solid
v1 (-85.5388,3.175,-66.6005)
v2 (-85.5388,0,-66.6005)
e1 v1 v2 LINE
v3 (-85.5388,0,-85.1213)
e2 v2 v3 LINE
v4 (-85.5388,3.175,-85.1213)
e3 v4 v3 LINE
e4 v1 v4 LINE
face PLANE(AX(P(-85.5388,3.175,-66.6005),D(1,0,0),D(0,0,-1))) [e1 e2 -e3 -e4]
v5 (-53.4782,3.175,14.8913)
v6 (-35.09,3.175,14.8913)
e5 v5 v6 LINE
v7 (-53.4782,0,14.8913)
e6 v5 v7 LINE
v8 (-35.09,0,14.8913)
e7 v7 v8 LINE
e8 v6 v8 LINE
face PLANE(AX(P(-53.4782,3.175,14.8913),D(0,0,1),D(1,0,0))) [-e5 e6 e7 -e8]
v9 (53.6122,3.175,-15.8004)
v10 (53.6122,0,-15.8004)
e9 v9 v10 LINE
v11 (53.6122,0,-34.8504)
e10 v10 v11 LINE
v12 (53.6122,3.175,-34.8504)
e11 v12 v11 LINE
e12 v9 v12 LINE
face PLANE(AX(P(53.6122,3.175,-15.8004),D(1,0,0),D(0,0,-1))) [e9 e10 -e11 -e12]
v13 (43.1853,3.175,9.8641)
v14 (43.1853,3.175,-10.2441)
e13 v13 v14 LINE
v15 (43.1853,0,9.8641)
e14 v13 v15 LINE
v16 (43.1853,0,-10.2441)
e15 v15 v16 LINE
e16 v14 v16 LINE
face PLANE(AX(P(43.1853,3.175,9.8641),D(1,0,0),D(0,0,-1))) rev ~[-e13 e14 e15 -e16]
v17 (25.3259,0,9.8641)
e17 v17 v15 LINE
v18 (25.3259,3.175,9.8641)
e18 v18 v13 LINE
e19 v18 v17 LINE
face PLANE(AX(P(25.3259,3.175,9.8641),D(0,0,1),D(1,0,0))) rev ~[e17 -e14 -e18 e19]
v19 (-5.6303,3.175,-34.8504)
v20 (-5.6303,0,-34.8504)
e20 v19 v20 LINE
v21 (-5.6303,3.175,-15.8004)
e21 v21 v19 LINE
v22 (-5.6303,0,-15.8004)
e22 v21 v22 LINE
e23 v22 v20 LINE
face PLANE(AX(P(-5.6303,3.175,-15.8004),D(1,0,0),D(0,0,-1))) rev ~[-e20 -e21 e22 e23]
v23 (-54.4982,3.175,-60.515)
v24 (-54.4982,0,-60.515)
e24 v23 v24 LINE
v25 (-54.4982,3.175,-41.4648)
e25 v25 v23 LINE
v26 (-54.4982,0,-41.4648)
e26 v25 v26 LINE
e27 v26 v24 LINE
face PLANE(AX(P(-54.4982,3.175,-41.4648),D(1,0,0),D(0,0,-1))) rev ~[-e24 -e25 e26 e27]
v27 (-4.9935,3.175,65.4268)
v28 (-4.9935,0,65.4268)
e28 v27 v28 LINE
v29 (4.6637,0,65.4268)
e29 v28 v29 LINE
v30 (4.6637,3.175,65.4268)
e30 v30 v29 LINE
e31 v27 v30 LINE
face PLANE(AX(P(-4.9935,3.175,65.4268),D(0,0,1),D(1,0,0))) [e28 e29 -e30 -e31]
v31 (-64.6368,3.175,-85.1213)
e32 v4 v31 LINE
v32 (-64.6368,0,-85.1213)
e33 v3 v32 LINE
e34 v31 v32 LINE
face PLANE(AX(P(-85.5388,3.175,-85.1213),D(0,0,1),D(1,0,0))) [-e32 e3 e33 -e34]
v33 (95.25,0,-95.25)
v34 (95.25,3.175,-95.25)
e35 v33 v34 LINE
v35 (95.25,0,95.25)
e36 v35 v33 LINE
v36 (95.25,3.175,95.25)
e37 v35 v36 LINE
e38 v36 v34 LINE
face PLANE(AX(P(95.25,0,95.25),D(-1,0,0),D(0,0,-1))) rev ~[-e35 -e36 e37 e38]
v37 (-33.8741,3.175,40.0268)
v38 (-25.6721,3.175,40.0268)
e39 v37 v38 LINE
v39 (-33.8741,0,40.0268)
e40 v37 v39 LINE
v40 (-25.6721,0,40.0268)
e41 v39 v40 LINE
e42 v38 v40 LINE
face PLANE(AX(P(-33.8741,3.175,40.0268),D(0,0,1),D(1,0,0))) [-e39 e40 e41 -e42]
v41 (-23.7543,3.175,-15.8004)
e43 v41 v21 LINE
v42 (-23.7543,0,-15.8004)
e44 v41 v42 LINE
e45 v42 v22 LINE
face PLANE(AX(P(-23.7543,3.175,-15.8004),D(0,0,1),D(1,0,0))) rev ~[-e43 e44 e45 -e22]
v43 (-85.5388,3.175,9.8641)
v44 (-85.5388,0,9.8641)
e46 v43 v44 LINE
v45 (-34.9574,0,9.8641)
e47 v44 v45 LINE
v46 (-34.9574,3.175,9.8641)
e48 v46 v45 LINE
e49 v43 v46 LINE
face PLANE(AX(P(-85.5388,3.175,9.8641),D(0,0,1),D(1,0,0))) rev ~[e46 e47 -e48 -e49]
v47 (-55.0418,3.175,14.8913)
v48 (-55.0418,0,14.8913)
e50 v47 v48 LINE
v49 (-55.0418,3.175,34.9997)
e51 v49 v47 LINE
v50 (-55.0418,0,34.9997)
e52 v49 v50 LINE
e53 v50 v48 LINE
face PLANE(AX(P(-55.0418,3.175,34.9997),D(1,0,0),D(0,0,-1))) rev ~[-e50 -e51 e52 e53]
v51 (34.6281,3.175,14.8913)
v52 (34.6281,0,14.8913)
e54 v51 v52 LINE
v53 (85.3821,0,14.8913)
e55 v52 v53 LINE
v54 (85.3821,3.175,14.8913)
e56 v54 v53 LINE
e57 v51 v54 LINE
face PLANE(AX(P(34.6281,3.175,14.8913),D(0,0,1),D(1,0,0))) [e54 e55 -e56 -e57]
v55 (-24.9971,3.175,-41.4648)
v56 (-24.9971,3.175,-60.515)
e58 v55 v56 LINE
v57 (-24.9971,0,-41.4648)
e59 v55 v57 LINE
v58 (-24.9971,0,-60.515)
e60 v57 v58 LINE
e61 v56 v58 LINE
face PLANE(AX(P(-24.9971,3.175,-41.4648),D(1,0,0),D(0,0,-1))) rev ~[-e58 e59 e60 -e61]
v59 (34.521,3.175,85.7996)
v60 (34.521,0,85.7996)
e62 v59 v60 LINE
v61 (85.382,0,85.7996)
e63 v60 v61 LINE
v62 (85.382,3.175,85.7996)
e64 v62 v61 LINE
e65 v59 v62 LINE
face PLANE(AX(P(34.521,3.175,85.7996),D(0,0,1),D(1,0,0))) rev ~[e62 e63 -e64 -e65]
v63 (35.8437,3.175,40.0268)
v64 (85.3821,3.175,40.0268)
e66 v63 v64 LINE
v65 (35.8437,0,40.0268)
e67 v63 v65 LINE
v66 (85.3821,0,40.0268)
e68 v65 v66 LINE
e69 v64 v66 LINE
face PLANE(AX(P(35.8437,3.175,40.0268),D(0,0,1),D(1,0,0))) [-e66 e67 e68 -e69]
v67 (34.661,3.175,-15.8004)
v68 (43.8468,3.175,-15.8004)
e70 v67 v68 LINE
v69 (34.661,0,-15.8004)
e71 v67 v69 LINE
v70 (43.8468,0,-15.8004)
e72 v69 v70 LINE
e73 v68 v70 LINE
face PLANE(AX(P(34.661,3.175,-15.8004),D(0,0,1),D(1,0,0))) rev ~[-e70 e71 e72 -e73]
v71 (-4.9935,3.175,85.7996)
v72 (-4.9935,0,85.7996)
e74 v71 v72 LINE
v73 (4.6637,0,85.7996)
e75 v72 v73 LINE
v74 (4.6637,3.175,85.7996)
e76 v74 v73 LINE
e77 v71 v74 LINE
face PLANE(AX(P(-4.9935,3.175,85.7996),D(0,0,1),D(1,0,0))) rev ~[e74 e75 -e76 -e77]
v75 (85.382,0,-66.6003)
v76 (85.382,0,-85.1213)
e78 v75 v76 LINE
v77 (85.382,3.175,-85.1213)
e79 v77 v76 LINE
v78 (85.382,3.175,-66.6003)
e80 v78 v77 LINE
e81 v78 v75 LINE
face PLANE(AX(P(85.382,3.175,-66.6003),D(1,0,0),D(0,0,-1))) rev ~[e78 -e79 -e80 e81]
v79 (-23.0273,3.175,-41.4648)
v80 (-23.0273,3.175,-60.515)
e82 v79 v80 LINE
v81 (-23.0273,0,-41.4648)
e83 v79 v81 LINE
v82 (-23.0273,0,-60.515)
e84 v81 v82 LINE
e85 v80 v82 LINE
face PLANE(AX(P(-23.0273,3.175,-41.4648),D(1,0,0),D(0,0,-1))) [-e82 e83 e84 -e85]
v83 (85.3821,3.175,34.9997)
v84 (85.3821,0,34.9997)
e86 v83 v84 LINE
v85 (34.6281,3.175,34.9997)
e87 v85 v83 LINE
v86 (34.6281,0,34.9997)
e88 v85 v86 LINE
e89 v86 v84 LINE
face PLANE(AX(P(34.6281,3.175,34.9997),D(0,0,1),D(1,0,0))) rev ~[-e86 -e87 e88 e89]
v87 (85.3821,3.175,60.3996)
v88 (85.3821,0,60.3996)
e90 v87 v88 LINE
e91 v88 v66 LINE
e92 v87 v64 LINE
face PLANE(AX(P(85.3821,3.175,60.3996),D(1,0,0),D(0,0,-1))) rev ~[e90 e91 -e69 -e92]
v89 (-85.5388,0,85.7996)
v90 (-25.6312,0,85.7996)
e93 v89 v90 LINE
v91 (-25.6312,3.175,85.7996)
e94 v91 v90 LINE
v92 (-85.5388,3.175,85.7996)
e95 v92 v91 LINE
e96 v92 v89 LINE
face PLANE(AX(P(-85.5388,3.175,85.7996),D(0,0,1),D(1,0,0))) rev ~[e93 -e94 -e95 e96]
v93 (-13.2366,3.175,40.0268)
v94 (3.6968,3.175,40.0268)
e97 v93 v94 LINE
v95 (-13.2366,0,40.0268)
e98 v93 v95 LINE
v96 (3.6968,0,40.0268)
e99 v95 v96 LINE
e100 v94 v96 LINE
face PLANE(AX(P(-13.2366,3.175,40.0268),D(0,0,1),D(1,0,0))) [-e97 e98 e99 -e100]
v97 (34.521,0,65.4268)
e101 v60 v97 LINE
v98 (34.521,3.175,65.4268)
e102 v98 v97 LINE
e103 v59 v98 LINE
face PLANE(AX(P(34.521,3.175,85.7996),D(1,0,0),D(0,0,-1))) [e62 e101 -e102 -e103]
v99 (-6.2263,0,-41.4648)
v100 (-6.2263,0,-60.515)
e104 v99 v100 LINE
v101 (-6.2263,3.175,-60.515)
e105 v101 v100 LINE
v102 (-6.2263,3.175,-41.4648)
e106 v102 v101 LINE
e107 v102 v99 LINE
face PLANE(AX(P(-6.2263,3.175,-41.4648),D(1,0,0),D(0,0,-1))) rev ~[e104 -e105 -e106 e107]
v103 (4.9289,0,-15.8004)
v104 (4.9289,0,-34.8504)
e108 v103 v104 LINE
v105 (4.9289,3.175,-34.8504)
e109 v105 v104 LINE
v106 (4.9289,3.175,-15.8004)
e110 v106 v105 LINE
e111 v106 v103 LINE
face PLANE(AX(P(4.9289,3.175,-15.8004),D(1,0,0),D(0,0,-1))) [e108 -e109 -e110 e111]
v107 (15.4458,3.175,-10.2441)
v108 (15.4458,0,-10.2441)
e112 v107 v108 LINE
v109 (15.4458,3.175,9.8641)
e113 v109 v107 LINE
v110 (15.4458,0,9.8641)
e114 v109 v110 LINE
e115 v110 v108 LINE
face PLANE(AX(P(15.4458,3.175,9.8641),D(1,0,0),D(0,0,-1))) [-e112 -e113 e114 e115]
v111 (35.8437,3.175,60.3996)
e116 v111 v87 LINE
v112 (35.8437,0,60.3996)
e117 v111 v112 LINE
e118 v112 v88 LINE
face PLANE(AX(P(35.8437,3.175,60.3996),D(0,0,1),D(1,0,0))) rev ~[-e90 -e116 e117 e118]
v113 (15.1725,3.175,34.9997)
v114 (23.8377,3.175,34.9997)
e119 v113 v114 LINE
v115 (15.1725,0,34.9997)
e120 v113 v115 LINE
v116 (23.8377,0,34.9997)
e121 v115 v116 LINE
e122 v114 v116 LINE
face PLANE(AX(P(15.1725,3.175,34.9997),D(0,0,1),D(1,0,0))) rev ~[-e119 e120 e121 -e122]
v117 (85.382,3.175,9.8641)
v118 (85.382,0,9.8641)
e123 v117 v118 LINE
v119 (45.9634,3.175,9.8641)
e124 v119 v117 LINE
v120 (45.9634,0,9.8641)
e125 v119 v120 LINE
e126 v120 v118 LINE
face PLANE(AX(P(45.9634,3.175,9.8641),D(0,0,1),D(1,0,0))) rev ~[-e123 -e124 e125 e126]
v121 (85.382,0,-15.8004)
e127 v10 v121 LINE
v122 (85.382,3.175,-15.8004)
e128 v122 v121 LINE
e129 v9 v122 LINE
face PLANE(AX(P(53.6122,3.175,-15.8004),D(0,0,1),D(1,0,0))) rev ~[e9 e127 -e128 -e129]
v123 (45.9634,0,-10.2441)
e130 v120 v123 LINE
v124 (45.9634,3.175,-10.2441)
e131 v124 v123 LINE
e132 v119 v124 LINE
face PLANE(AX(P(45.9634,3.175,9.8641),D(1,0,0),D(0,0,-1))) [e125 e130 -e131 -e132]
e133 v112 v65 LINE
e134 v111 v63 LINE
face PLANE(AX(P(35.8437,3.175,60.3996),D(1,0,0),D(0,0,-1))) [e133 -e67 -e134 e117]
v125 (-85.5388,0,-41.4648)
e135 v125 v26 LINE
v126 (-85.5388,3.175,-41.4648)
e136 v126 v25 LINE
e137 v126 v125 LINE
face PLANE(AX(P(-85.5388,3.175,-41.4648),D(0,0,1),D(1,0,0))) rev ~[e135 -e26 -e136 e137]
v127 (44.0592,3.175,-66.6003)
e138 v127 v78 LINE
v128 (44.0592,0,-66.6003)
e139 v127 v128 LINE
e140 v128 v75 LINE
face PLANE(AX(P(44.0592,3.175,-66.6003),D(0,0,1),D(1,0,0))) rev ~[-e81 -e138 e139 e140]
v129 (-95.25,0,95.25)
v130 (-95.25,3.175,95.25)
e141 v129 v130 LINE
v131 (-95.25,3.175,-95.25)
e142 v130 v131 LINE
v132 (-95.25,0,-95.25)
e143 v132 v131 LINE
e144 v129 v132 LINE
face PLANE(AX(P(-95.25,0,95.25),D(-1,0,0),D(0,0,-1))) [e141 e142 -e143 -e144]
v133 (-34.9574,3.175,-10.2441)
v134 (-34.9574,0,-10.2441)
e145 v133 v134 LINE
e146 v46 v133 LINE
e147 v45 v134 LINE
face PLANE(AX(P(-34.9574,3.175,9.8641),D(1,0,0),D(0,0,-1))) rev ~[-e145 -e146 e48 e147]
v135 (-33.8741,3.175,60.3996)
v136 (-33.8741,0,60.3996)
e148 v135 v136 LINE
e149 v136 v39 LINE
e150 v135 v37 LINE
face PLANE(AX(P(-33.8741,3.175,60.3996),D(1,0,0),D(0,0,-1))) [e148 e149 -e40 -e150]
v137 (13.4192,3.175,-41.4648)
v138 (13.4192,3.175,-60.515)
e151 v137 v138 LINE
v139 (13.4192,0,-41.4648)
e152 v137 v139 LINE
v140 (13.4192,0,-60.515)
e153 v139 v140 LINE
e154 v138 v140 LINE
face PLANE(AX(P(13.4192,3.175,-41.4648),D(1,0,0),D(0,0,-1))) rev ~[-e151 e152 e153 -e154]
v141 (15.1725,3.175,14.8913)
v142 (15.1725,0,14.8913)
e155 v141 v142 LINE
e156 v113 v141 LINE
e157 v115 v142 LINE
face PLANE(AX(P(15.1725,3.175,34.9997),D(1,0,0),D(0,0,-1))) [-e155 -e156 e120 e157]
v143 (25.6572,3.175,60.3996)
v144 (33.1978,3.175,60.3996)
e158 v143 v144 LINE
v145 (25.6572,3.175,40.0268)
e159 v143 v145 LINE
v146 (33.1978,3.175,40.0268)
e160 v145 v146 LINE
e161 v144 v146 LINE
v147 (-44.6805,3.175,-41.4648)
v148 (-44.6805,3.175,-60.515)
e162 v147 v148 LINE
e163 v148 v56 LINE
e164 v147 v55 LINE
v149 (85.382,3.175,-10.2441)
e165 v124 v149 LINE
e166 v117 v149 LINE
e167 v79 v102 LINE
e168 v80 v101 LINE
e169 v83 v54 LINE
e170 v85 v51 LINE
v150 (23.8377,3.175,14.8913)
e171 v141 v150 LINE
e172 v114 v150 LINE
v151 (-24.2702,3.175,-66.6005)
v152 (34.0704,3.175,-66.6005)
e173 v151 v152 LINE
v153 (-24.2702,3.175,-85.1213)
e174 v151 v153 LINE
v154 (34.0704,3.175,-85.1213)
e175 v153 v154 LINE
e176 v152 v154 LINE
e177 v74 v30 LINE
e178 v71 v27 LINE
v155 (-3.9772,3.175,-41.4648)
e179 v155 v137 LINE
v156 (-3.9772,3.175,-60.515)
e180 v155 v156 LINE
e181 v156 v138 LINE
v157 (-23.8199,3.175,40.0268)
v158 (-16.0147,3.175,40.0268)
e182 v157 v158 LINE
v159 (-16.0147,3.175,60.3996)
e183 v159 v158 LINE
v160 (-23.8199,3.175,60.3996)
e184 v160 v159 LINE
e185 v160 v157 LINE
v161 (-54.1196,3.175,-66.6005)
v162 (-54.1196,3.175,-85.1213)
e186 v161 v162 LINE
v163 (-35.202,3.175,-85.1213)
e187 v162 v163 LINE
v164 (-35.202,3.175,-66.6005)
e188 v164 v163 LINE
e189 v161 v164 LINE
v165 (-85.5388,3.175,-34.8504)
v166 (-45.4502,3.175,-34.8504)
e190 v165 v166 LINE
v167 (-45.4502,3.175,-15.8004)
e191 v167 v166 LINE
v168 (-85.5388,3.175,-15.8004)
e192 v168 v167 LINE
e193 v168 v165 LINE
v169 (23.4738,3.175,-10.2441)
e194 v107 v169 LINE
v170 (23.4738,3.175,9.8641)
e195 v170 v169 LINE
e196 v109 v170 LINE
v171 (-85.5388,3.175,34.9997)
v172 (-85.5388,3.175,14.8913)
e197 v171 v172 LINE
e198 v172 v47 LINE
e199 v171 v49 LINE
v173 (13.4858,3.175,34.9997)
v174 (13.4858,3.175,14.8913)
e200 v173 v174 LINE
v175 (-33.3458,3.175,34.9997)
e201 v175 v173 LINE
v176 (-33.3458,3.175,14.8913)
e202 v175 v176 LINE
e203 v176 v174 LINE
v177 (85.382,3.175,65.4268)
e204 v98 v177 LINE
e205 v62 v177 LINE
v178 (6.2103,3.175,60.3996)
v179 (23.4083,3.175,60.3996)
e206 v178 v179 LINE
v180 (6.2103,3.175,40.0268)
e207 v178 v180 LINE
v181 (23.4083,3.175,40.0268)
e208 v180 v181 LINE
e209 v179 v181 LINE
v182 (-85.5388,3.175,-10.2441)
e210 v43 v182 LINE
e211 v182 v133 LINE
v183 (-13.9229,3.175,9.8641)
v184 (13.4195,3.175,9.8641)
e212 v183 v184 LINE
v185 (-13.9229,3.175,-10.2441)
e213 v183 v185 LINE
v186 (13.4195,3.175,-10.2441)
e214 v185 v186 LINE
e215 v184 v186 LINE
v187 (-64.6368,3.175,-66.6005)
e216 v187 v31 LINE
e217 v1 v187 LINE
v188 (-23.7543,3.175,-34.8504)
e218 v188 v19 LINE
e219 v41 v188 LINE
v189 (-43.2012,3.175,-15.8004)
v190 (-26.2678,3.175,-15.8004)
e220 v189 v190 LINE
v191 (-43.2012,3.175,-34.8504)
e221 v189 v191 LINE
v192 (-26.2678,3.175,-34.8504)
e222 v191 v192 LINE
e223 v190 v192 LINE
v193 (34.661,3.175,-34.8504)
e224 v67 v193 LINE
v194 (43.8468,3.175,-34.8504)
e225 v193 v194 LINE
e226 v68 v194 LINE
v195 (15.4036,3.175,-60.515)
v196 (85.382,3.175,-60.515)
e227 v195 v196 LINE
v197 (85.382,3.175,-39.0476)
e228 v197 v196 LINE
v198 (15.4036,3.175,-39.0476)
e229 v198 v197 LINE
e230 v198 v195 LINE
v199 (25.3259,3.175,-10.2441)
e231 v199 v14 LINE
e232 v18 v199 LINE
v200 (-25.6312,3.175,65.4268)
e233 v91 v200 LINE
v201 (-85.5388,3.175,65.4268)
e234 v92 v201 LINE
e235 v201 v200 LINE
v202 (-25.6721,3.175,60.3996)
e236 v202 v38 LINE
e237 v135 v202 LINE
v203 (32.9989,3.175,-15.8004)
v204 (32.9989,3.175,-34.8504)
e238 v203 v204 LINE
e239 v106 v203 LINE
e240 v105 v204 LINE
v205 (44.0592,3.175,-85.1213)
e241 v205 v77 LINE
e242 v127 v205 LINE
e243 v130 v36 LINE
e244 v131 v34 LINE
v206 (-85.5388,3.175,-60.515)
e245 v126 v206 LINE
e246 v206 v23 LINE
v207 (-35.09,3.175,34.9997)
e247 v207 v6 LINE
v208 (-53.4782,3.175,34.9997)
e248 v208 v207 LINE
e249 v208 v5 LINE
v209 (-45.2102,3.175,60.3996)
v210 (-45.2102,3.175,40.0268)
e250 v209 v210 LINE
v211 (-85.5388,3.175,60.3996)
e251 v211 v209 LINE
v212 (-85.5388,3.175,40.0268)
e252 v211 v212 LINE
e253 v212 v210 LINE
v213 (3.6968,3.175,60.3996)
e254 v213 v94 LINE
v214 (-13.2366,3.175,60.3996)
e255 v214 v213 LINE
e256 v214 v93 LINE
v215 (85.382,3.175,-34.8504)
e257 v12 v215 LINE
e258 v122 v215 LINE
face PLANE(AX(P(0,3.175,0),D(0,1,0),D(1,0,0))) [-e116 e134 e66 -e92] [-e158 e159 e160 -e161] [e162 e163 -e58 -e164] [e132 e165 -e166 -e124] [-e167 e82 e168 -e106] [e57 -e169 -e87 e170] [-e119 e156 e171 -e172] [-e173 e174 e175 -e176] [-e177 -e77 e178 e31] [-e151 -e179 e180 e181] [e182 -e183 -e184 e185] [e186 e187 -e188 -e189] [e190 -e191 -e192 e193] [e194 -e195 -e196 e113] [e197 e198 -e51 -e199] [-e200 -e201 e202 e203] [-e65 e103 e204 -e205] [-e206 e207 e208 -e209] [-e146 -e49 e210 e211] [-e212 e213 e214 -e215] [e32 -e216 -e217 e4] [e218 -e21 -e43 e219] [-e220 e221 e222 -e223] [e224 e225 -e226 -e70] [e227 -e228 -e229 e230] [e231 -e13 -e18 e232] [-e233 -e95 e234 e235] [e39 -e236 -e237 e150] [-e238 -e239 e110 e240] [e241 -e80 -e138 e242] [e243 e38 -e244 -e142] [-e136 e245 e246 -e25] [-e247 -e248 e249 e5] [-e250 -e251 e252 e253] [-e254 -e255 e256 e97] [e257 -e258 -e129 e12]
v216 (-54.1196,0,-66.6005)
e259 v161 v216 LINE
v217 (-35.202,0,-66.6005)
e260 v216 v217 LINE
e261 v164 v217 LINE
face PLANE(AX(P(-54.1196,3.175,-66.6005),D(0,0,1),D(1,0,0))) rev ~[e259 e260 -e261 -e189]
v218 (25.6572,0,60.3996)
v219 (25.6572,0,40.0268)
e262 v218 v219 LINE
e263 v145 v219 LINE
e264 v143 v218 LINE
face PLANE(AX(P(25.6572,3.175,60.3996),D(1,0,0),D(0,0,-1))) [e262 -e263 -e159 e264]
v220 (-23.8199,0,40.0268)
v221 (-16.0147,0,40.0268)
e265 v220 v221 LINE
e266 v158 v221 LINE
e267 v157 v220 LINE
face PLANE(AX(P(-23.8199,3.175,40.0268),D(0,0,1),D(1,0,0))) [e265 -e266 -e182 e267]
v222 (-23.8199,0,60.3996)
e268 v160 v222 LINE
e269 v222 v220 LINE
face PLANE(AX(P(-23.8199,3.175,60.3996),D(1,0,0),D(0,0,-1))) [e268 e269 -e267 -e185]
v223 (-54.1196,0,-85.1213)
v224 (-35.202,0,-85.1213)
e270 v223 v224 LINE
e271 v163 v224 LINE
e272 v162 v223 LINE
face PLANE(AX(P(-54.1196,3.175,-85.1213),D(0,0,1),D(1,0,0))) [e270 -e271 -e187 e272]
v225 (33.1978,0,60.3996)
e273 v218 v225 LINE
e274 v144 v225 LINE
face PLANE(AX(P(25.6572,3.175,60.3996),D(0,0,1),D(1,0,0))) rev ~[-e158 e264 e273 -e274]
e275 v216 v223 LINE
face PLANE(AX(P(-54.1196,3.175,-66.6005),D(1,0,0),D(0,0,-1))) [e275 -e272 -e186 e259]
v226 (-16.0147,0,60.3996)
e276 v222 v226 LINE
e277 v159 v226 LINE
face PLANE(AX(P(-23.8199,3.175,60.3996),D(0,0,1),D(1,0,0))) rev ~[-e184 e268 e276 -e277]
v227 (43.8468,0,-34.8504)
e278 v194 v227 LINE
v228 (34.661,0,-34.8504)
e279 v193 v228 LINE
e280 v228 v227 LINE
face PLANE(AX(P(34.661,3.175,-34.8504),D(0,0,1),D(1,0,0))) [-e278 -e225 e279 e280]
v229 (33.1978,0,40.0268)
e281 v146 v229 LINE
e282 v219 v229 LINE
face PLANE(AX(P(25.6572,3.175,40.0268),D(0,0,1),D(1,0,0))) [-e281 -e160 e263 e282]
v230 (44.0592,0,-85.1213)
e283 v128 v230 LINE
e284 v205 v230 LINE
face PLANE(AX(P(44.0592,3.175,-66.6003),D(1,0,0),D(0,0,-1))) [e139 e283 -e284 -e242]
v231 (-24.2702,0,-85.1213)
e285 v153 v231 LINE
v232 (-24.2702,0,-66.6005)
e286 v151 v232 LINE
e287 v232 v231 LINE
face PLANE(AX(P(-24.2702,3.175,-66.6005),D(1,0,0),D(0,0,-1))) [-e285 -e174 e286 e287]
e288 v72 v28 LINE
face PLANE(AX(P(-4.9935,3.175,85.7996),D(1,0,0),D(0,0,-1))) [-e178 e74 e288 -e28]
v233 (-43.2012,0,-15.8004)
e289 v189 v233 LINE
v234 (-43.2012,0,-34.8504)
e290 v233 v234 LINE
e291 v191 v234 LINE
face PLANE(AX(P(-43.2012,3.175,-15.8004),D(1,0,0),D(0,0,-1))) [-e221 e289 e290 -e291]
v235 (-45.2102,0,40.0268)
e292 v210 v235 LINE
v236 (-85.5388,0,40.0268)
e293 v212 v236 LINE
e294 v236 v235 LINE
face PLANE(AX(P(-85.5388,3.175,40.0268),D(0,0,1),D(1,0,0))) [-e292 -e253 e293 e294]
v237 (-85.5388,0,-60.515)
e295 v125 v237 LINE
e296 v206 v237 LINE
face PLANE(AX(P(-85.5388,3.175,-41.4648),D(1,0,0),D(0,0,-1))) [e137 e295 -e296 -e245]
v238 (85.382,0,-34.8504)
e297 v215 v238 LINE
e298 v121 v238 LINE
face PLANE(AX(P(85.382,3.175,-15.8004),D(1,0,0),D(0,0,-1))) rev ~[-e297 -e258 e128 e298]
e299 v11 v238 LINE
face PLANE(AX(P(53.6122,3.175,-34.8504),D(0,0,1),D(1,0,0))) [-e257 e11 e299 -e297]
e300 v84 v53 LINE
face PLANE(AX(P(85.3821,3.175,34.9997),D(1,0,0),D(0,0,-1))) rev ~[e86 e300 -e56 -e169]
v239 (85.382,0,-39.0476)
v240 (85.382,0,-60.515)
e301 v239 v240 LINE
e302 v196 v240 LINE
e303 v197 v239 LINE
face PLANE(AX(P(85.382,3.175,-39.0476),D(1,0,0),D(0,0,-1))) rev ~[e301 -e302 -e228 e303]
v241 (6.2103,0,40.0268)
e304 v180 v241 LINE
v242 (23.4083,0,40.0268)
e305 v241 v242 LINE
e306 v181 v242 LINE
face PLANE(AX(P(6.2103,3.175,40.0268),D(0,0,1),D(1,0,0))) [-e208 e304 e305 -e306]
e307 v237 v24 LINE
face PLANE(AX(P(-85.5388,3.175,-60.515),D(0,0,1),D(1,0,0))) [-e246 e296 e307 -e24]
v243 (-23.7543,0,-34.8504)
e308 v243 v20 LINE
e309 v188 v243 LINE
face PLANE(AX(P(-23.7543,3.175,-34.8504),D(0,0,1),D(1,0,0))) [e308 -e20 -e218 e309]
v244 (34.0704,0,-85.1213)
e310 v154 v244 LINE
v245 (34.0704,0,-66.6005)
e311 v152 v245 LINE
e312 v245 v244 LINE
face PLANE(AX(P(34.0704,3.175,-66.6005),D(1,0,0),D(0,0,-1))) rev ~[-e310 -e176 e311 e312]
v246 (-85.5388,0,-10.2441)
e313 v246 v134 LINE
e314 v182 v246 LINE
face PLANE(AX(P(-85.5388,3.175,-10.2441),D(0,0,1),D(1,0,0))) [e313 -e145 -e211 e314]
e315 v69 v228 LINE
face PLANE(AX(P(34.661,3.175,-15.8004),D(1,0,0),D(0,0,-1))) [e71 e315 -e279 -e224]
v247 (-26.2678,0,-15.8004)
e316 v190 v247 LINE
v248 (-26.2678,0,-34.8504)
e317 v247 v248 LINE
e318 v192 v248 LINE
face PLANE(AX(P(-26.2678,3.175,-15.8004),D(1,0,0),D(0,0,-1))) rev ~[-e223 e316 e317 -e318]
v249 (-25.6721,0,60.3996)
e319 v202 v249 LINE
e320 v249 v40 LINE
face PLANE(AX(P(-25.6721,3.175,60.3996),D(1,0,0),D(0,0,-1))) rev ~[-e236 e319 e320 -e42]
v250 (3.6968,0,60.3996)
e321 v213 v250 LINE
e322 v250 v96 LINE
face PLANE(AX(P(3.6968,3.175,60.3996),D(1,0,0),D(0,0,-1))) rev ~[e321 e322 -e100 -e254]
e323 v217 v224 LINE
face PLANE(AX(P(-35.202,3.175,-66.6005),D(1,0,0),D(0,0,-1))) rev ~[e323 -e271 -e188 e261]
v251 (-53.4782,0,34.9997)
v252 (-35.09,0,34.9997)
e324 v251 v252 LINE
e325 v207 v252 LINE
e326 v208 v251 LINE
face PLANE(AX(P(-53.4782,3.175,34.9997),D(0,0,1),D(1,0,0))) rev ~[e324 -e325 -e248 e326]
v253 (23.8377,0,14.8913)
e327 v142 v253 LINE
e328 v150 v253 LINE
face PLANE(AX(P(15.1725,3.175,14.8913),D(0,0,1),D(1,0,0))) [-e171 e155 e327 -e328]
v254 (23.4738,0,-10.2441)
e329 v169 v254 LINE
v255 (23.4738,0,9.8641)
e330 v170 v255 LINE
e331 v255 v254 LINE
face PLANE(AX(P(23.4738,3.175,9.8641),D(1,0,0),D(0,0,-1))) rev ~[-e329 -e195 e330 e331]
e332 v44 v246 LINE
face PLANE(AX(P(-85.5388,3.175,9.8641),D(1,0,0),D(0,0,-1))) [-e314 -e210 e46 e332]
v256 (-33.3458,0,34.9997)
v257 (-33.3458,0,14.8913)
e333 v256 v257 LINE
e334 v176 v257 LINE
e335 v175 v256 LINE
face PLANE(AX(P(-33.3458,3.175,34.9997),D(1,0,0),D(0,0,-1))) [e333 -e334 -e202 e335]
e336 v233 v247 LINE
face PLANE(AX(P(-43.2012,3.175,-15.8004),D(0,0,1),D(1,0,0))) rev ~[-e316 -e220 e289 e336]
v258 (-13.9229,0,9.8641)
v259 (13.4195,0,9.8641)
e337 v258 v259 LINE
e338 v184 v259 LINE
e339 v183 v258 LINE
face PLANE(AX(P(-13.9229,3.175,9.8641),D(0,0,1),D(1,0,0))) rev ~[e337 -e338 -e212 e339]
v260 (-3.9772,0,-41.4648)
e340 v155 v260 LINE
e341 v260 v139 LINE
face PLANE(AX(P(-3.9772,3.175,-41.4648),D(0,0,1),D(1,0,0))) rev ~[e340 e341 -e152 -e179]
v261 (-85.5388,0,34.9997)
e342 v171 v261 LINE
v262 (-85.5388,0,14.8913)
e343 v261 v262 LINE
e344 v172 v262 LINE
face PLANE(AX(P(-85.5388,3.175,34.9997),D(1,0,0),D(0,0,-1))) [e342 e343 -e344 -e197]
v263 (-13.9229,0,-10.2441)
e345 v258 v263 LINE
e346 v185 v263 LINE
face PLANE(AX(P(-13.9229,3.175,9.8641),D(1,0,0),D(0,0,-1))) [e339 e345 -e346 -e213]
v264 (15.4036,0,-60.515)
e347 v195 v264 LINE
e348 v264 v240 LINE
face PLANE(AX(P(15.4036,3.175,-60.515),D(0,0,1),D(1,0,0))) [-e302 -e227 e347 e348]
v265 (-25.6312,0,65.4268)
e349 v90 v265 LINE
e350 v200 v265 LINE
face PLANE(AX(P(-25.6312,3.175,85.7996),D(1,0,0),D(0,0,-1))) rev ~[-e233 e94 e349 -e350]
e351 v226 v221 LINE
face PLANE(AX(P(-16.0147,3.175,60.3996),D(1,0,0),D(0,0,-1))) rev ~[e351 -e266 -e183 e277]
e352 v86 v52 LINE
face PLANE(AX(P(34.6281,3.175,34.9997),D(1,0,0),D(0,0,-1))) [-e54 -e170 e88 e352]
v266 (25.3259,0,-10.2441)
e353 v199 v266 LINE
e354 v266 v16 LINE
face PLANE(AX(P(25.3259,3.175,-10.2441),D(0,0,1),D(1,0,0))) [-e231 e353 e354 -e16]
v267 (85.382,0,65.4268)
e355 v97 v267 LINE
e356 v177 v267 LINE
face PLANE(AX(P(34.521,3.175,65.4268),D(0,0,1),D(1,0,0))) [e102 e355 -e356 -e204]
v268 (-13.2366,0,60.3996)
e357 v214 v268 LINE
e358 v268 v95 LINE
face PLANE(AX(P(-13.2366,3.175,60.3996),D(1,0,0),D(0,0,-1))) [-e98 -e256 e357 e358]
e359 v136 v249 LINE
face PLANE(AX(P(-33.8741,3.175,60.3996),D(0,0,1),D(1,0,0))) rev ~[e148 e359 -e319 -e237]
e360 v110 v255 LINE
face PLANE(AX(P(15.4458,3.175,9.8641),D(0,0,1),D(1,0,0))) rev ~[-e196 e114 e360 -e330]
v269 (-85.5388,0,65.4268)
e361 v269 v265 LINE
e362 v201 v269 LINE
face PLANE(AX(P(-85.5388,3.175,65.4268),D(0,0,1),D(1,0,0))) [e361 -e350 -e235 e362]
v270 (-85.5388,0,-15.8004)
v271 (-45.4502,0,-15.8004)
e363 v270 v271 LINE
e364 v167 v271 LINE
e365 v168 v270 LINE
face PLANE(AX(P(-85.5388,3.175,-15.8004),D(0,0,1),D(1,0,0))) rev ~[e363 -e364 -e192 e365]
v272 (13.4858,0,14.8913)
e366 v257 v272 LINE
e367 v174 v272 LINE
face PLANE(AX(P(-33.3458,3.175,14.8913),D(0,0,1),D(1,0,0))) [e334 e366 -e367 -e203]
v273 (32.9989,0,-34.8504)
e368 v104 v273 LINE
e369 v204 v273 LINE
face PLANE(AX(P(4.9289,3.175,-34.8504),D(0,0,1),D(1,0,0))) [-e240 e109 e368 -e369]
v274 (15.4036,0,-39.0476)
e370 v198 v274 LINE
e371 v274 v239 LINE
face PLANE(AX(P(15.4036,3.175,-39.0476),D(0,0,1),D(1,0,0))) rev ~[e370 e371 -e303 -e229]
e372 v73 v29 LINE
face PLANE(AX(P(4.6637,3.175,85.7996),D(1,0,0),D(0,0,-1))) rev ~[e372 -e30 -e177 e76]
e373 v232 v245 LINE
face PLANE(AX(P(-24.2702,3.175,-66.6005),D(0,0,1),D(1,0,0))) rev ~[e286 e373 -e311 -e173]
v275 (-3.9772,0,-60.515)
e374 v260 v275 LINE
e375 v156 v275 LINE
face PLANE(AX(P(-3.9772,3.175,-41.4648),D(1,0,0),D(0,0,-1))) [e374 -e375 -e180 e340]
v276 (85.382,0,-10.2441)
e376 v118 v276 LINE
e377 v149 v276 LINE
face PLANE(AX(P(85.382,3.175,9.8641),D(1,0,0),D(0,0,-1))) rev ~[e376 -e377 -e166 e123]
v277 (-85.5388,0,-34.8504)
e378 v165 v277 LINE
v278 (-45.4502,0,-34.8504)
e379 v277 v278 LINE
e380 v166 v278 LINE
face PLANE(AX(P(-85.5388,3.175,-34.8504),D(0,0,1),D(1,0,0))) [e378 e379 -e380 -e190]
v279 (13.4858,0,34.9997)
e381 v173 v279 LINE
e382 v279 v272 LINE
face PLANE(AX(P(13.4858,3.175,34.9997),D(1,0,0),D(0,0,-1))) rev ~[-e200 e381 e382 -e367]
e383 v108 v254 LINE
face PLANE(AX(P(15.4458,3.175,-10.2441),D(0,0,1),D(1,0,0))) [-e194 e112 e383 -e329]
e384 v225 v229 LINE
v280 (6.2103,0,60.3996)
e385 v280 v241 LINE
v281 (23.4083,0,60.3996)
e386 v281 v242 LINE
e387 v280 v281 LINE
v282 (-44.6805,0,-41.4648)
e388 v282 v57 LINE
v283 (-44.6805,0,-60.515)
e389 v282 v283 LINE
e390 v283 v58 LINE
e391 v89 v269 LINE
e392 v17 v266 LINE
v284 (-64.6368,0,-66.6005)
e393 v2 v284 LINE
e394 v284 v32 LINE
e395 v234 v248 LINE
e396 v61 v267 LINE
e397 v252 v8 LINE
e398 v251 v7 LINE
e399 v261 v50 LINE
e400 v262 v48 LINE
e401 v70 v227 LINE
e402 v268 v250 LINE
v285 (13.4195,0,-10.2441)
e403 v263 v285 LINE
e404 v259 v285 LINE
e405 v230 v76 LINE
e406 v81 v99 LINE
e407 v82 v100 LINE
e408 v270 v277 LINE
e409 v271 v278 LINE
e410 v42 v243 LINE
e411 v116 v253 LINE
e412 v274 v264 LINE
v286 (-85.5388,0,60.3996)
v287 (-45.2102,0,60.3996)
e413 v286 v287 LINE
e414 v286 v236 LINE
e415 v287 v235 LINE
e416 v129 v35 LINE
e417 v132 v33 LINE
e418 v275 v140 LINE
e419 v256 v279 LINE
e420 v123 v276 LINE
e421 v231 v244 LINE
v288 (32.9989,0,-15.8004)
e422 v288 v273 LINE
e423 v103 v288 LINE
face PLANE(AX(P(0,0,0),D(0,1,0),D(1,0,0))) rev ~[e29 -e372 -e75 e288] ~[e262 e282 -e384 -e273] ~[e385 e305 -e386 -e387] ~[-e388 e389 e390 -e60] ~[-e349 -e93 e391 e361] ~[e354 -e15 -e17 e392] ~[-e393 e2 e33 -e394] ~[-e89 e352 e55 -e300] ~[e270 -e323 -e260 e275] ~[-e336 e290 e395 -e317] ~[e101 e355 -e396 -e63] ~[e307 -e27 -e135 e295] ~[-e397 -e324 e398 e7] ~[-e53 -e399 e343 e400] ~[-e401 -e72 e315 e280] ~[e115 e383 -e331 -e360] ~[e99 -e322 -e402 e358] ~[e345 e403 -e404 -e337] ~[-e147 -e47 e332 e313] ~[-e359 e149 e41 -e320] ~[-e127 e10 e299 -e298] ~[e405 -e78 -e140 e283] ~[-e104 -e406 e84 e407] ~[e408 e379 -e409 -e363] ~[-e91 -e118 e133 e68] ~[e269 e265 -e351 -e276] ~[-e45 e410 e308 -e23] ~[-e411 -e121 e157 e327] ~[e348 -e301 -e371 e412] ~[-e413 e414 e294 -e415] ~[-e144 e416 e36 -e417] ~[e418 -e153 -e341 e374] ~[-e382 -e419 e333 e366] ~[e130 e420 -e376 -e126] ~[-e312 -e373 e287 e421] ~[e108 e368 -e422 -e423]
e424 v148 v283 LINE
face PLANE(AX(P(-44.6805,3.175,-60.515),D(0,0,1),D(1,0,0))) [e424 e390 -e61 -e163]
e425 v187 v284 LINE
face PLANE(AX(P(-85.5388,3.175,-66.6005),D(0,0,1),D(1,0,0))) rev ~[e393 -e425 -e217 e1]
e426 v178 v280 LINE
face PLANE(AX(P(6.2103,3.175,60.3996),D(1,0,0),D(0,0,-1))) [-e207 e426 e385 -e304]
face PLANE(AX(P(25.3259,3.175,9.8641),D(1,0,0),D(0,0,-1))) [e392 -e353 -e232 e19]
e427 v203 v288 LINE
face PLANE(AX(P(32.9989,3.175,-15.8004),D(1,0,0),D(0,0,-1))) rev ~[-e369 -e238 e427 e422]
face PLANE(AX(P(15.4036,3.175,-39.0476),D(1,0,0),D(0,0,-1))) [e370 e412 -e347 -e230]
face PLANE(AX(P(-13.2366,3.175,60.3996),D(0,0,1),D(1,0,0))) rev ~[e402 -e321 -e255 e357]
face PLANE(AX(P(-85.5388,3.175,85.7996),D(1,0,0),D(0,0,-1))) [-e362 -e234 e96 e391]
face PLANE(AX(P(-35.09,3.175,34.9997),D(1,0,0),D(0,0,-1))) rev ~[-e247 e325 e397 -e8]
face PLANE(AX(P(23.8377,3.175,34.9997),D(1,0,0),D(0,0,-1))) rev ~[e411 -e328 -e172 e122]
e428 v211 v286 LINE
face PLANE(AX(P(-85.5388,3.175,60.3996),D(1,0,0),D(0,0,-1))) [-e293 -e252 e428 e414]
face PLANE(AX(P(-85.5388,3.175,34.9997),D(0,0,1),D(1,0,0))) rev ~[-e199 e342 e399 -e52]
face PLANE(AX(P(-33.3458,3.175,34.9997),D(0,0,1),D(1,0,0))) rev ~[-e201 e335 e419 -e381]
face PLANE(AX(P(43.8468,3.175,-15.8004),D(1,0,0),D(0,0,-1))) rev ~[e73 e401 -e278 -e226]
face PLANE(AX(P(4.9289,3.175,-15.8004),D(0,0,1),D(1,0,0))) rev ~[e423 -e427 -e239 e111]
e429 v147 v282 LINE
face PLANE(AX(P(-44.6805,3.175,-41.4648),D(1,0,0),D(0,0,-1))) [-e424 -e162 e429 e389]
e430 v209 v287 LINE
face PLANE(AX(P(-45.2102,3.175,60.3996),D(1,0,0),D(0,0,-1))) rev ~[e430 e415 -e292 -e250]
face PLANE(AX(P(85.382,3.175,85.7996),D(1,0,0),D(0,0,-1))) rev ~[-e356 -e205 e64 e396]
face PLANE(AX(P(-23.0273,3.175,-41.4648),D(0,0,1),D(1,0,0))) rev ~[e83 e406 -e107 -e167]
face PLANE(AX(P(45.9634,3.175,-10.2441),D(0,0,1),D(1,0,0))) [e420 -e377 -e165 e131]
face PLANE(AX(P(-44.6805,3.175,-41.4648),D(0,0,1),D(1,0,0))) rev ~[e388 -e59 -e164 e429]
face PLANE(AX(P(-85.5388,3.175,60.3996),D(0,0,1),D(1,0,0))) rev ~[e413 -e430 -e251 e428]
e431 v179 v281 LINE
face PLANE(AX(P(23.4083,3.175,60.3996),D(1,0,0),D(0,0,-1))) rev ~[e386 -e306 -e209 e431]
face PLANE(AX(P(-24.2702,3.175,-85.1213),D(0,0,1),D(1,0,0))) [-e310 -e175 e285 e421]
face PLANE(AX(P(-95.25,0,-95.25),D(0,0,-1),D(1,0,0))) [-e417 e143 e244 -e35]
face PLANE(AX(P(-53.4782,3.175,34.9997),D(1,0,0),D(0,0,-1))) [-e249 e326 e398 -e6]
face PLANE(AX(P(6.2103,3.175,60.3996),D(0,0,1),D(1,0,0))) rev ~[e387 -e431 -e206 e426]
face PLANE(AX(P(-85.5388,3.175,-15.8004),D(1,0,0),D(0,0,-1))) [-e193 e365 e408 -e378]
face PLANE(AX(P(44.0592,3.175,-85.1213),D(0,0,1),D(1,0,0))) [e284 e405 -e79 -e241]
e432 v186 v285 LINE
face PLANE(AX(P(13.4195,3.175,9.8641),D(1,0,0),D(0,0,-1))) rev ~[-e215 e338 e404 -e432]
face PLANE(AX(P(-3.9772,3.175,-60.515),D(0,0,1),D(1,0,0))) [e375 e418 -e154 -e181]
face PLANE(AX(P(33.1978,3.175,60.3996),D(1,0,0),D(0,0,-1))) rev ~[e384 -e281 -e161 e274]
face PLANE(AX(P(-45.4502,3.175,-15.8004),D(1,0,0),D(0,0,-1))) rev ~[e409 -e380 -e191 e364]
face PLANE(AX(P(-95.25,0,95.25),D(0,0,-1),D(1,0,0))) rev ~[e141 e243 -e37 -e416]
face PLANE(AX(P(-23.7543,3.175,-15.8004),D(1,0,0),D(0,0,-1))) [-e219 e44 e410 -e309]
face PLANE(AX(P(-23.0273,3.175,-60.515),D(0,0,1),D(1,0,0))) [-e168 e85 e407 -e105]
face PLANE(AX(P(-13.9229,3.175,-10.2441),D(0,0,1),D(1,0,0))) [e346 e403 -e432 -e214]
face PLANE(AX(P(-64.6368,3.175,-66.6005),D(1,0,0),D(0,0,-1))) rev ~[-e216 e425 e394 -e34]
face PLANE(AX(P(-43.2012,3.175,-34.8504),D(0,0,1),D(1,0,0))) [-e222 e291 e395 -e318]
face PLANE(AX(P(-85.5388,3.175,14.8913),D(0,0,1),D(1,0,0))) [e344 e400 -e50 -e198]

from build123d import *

# Parameters (mm, degrees)
SKETCH1_W           = 190.5
SKETCH1_H           = 190.5
BOSS_EXTRUDE1_DEPTH = 3.175
SKETCH4_W           = 20.902
SKETCH4_H           = 18.5208
SKETCH4_W_2         = 18.9176
SKETCH4_W_3         = 58.3406
SKETCH4_W_4         = 41.3228
SKETCH4_H_2         = 18.521
SKETCH4_W_5         = 31.0406
SKETCH4_H_3         = 19.0502
SKETCH4_W_6         = 19.6834
SKETCH4_W_7         = 16.801
SKETCH4_W_8         = 17.3964
SKETCH4_W_9         = 69.9784
SKETCH4_H_4         = 21.4674
SKETCH4_W_10        = 9.1858
SKETCH4_H_5         = 19.05
SKETCH4_W_11        = 40.0886
SKETCH4_W_12        = 16.9334
SKETCH4_W_13        = 18.124
SKETCH4_W_14        = 28.07
SKETCH4_W_15        = 31.7698
SKETCH4_W_16        = 50.5814
SKETCH4_H_6         = 20.1082
SKETCH4_W_17        = 27.3424
SKETCH4_W_18        = 8.028
SKETCH4_W_19        = 39.4186
SKETCH4_W_20        = 17.8594
SKETCH4_W_21        = 30.497
SKETCH4_H_7         = 20.1084
SKETCH4_W_22        = 18.3882
SKETCH4_W_23        = 46.8316
SKETCH4_W_24        = 8.6652
SKETCH4_W_25        = 50.754
SKETCH4_W_26        = 40.3286
SKETCH4_H_8         = 20.3728
SKETCH4_W_27        = 8.202
SKETCH4_W_28        = 7.8052
SKETCH4_W_29        = 17.198
SKETCH4_W_30        = 7.5406
SKETCH4_W_31        = 49.5384
SKETCH4_W_32        = 59.9076
SKETCH4_W_33        = 9.6572
SKETCH4_W_34        = 50.861
CUT_EXTRUDE2_DEPTH  = 4.175


with BuildPart() as part:
    # Sketch1 → Boss-Extrude1 (new body)
    with BuildSketch(Plane(origin=(0, 0, 0), x_dir=(1, 0, 0), z_dir=(0, 1, 0))):
        Rectangle(SKETCH1_W, SKETCH1_H)
    extrude(amount=BOSS_EXTRUDE1_DEPTH)

    # Sketch4 → Cut-Extrude2 (cut, through all)
    with BuildSketch(Plane(origin=(0, 3.175, 0), x_dir=(1, 0, 0), z_dir=(0, 1, 0))):
        with Locations((-75.0878, 75.8609)):
            Rectangle(SKETCH4_W, SKETCH4_H)
        with Locations((-44.6608, 75.8609)):
            Rectangle(SKETCH4_W_2, SKETCH4_H)
        with Locations((4.9001, 75.8609)):
            Rectangle(SKETCH4_W_3, SKETCH4_H)
        with Locations((64.7206, 75.8608)):
            Rectangle(SKETCH4_W_4, SKETCH4_H_2)
        with Locations((-70.0185, 50.9899)):
            Rectangle(SKETCH4_W_5, SKETCH4_H_3)
        with Locations((-34.8388, 50.9899)):
            Rectangle(SKETCH4_W_6, SKETCH4_H_3)
        with Locations((-14.6268, 50.9899)):
            Rectangle(SKETCH4_W_7, SKETCH4_H_3)
        with Locations((4.721, 50.9899)):
            Rectangle(SKETCH4_W_8, SKETCH4_H_3)
        with Locations((50.3928, 49.7813)):
            Rectangle(SKETCH4_W_9, SKETCH4_H_4)
        with Locations((39.2539, 25.3254)):
            Rectangle(SKETCH4_W_10, SKETCH4_H_5)
        with Locations((-65.4945, 25.3254)):
            Rectangle(SKETCH4_W_11, SKETCH4_H_5)
        with Locations((-34.7345, 25.3254)):
            Rectangle(SKETCH4_W_12, SKETCH4_H_5)
        with Locations((-14.6923, 25.3254)):
            Rectangle(SKETCH4_W_13, SKETCH4_H_5)
        with Locations((18.9639, 25.3254)):
            Rectangle(SKETCH4_W_14, SKETCH4_H_5)
        with Locations((69.4971, 25.3254)):
            Rectangle(SKETCH4_W_15, SKETCH4_H_5)
        with Locations((-60.2481, 0.19)):
            Rectangle(SKETCH4_W_16, SKETCH4_H_6)
        with Locations((-0.2517, 0.19)):
            Rectangle(SKETCH4_W_17, SKETCH4_H_6)
        with Locations((19.4598, 0.19)):
            Rectangle(SKETCH4_W_18, SKETCH4_H_6)
        with Locations((65.6727, 0.19)):
            Rectangle(SKETCH4_W_19, SKETCH4_H_6)
        with Locations((34.2556, 0.19)):
            Rectangle(SKETCH4_W_20, SKETCH4_H_6)
        with Locations((-70.2903, -24.9455)):
            Rectangle(SKETCH4_W_21, SKETCH4_H_7)
        with Locations((-44.2841, -24.9455)):
            Rectangle(SKETCH4_W_22, SKETCH4_H_7)
        with Locations((-9.93, -24.9455)):
            Rectangle(SKETCH4_W_23, SKETCH4_H_7)
        with Locations((19.5051, -24.9455)):
            Rectangle(SKETCH4_W_24, SKETCH4_H_7)
        with Locations((60.0051, -24.9455)):
            Rectangle(SKETCH4_W_25, SKETCH4_H_7)
        with Locations((-65.3745, -50.2132)):
            Rectangle(SKETCH4_W_26, SKETCH4_H_8)
        with Locations((-29.7731, -50.2132)):
            Rectangle(SKETCH4_W_27, SKETCH4_H_8)
        with Locations((-4.7699, -50.2132)):
            Rectangle(SKETCH4_W_12, SKETCH4_H_8)
        with Locations((-19.9173, -50.2132)):
            Rectangle(SKETCH4_W_28, SKETCH4_H_8)
        with Locations((14.8093, -50.2132)):
            Rectangle(SKETCH4_W_29, SKETCH4_H_8)
        with Locations((29.4275, -50.2132)):
            Rectangle(SKETCH4_W_30, SKETCH4_H_8)
        with Locations((60.6129, -50.2132)):
            Rectangle(SKETCH4_W_31, SKETCH4_H_8)
        with Locations((-55.585, -75.6132)):
            Rectangle(SKETCH4_W_32, SKETCH4_H_8)
        with Locations((-0.1649, -75.6132)):
            Rectangle(SKETCH4_W_33, SKETCH4_H_8)
        with Locations((59.9515, -75.6132)):
            Rectangle(SKETCH4_W_34, SKETCH4_H_8)
    extrude(amount=-CUT_EXTRUDE2_DEPTH, mode=Mode.SUBTRACT)


solid = part.part
